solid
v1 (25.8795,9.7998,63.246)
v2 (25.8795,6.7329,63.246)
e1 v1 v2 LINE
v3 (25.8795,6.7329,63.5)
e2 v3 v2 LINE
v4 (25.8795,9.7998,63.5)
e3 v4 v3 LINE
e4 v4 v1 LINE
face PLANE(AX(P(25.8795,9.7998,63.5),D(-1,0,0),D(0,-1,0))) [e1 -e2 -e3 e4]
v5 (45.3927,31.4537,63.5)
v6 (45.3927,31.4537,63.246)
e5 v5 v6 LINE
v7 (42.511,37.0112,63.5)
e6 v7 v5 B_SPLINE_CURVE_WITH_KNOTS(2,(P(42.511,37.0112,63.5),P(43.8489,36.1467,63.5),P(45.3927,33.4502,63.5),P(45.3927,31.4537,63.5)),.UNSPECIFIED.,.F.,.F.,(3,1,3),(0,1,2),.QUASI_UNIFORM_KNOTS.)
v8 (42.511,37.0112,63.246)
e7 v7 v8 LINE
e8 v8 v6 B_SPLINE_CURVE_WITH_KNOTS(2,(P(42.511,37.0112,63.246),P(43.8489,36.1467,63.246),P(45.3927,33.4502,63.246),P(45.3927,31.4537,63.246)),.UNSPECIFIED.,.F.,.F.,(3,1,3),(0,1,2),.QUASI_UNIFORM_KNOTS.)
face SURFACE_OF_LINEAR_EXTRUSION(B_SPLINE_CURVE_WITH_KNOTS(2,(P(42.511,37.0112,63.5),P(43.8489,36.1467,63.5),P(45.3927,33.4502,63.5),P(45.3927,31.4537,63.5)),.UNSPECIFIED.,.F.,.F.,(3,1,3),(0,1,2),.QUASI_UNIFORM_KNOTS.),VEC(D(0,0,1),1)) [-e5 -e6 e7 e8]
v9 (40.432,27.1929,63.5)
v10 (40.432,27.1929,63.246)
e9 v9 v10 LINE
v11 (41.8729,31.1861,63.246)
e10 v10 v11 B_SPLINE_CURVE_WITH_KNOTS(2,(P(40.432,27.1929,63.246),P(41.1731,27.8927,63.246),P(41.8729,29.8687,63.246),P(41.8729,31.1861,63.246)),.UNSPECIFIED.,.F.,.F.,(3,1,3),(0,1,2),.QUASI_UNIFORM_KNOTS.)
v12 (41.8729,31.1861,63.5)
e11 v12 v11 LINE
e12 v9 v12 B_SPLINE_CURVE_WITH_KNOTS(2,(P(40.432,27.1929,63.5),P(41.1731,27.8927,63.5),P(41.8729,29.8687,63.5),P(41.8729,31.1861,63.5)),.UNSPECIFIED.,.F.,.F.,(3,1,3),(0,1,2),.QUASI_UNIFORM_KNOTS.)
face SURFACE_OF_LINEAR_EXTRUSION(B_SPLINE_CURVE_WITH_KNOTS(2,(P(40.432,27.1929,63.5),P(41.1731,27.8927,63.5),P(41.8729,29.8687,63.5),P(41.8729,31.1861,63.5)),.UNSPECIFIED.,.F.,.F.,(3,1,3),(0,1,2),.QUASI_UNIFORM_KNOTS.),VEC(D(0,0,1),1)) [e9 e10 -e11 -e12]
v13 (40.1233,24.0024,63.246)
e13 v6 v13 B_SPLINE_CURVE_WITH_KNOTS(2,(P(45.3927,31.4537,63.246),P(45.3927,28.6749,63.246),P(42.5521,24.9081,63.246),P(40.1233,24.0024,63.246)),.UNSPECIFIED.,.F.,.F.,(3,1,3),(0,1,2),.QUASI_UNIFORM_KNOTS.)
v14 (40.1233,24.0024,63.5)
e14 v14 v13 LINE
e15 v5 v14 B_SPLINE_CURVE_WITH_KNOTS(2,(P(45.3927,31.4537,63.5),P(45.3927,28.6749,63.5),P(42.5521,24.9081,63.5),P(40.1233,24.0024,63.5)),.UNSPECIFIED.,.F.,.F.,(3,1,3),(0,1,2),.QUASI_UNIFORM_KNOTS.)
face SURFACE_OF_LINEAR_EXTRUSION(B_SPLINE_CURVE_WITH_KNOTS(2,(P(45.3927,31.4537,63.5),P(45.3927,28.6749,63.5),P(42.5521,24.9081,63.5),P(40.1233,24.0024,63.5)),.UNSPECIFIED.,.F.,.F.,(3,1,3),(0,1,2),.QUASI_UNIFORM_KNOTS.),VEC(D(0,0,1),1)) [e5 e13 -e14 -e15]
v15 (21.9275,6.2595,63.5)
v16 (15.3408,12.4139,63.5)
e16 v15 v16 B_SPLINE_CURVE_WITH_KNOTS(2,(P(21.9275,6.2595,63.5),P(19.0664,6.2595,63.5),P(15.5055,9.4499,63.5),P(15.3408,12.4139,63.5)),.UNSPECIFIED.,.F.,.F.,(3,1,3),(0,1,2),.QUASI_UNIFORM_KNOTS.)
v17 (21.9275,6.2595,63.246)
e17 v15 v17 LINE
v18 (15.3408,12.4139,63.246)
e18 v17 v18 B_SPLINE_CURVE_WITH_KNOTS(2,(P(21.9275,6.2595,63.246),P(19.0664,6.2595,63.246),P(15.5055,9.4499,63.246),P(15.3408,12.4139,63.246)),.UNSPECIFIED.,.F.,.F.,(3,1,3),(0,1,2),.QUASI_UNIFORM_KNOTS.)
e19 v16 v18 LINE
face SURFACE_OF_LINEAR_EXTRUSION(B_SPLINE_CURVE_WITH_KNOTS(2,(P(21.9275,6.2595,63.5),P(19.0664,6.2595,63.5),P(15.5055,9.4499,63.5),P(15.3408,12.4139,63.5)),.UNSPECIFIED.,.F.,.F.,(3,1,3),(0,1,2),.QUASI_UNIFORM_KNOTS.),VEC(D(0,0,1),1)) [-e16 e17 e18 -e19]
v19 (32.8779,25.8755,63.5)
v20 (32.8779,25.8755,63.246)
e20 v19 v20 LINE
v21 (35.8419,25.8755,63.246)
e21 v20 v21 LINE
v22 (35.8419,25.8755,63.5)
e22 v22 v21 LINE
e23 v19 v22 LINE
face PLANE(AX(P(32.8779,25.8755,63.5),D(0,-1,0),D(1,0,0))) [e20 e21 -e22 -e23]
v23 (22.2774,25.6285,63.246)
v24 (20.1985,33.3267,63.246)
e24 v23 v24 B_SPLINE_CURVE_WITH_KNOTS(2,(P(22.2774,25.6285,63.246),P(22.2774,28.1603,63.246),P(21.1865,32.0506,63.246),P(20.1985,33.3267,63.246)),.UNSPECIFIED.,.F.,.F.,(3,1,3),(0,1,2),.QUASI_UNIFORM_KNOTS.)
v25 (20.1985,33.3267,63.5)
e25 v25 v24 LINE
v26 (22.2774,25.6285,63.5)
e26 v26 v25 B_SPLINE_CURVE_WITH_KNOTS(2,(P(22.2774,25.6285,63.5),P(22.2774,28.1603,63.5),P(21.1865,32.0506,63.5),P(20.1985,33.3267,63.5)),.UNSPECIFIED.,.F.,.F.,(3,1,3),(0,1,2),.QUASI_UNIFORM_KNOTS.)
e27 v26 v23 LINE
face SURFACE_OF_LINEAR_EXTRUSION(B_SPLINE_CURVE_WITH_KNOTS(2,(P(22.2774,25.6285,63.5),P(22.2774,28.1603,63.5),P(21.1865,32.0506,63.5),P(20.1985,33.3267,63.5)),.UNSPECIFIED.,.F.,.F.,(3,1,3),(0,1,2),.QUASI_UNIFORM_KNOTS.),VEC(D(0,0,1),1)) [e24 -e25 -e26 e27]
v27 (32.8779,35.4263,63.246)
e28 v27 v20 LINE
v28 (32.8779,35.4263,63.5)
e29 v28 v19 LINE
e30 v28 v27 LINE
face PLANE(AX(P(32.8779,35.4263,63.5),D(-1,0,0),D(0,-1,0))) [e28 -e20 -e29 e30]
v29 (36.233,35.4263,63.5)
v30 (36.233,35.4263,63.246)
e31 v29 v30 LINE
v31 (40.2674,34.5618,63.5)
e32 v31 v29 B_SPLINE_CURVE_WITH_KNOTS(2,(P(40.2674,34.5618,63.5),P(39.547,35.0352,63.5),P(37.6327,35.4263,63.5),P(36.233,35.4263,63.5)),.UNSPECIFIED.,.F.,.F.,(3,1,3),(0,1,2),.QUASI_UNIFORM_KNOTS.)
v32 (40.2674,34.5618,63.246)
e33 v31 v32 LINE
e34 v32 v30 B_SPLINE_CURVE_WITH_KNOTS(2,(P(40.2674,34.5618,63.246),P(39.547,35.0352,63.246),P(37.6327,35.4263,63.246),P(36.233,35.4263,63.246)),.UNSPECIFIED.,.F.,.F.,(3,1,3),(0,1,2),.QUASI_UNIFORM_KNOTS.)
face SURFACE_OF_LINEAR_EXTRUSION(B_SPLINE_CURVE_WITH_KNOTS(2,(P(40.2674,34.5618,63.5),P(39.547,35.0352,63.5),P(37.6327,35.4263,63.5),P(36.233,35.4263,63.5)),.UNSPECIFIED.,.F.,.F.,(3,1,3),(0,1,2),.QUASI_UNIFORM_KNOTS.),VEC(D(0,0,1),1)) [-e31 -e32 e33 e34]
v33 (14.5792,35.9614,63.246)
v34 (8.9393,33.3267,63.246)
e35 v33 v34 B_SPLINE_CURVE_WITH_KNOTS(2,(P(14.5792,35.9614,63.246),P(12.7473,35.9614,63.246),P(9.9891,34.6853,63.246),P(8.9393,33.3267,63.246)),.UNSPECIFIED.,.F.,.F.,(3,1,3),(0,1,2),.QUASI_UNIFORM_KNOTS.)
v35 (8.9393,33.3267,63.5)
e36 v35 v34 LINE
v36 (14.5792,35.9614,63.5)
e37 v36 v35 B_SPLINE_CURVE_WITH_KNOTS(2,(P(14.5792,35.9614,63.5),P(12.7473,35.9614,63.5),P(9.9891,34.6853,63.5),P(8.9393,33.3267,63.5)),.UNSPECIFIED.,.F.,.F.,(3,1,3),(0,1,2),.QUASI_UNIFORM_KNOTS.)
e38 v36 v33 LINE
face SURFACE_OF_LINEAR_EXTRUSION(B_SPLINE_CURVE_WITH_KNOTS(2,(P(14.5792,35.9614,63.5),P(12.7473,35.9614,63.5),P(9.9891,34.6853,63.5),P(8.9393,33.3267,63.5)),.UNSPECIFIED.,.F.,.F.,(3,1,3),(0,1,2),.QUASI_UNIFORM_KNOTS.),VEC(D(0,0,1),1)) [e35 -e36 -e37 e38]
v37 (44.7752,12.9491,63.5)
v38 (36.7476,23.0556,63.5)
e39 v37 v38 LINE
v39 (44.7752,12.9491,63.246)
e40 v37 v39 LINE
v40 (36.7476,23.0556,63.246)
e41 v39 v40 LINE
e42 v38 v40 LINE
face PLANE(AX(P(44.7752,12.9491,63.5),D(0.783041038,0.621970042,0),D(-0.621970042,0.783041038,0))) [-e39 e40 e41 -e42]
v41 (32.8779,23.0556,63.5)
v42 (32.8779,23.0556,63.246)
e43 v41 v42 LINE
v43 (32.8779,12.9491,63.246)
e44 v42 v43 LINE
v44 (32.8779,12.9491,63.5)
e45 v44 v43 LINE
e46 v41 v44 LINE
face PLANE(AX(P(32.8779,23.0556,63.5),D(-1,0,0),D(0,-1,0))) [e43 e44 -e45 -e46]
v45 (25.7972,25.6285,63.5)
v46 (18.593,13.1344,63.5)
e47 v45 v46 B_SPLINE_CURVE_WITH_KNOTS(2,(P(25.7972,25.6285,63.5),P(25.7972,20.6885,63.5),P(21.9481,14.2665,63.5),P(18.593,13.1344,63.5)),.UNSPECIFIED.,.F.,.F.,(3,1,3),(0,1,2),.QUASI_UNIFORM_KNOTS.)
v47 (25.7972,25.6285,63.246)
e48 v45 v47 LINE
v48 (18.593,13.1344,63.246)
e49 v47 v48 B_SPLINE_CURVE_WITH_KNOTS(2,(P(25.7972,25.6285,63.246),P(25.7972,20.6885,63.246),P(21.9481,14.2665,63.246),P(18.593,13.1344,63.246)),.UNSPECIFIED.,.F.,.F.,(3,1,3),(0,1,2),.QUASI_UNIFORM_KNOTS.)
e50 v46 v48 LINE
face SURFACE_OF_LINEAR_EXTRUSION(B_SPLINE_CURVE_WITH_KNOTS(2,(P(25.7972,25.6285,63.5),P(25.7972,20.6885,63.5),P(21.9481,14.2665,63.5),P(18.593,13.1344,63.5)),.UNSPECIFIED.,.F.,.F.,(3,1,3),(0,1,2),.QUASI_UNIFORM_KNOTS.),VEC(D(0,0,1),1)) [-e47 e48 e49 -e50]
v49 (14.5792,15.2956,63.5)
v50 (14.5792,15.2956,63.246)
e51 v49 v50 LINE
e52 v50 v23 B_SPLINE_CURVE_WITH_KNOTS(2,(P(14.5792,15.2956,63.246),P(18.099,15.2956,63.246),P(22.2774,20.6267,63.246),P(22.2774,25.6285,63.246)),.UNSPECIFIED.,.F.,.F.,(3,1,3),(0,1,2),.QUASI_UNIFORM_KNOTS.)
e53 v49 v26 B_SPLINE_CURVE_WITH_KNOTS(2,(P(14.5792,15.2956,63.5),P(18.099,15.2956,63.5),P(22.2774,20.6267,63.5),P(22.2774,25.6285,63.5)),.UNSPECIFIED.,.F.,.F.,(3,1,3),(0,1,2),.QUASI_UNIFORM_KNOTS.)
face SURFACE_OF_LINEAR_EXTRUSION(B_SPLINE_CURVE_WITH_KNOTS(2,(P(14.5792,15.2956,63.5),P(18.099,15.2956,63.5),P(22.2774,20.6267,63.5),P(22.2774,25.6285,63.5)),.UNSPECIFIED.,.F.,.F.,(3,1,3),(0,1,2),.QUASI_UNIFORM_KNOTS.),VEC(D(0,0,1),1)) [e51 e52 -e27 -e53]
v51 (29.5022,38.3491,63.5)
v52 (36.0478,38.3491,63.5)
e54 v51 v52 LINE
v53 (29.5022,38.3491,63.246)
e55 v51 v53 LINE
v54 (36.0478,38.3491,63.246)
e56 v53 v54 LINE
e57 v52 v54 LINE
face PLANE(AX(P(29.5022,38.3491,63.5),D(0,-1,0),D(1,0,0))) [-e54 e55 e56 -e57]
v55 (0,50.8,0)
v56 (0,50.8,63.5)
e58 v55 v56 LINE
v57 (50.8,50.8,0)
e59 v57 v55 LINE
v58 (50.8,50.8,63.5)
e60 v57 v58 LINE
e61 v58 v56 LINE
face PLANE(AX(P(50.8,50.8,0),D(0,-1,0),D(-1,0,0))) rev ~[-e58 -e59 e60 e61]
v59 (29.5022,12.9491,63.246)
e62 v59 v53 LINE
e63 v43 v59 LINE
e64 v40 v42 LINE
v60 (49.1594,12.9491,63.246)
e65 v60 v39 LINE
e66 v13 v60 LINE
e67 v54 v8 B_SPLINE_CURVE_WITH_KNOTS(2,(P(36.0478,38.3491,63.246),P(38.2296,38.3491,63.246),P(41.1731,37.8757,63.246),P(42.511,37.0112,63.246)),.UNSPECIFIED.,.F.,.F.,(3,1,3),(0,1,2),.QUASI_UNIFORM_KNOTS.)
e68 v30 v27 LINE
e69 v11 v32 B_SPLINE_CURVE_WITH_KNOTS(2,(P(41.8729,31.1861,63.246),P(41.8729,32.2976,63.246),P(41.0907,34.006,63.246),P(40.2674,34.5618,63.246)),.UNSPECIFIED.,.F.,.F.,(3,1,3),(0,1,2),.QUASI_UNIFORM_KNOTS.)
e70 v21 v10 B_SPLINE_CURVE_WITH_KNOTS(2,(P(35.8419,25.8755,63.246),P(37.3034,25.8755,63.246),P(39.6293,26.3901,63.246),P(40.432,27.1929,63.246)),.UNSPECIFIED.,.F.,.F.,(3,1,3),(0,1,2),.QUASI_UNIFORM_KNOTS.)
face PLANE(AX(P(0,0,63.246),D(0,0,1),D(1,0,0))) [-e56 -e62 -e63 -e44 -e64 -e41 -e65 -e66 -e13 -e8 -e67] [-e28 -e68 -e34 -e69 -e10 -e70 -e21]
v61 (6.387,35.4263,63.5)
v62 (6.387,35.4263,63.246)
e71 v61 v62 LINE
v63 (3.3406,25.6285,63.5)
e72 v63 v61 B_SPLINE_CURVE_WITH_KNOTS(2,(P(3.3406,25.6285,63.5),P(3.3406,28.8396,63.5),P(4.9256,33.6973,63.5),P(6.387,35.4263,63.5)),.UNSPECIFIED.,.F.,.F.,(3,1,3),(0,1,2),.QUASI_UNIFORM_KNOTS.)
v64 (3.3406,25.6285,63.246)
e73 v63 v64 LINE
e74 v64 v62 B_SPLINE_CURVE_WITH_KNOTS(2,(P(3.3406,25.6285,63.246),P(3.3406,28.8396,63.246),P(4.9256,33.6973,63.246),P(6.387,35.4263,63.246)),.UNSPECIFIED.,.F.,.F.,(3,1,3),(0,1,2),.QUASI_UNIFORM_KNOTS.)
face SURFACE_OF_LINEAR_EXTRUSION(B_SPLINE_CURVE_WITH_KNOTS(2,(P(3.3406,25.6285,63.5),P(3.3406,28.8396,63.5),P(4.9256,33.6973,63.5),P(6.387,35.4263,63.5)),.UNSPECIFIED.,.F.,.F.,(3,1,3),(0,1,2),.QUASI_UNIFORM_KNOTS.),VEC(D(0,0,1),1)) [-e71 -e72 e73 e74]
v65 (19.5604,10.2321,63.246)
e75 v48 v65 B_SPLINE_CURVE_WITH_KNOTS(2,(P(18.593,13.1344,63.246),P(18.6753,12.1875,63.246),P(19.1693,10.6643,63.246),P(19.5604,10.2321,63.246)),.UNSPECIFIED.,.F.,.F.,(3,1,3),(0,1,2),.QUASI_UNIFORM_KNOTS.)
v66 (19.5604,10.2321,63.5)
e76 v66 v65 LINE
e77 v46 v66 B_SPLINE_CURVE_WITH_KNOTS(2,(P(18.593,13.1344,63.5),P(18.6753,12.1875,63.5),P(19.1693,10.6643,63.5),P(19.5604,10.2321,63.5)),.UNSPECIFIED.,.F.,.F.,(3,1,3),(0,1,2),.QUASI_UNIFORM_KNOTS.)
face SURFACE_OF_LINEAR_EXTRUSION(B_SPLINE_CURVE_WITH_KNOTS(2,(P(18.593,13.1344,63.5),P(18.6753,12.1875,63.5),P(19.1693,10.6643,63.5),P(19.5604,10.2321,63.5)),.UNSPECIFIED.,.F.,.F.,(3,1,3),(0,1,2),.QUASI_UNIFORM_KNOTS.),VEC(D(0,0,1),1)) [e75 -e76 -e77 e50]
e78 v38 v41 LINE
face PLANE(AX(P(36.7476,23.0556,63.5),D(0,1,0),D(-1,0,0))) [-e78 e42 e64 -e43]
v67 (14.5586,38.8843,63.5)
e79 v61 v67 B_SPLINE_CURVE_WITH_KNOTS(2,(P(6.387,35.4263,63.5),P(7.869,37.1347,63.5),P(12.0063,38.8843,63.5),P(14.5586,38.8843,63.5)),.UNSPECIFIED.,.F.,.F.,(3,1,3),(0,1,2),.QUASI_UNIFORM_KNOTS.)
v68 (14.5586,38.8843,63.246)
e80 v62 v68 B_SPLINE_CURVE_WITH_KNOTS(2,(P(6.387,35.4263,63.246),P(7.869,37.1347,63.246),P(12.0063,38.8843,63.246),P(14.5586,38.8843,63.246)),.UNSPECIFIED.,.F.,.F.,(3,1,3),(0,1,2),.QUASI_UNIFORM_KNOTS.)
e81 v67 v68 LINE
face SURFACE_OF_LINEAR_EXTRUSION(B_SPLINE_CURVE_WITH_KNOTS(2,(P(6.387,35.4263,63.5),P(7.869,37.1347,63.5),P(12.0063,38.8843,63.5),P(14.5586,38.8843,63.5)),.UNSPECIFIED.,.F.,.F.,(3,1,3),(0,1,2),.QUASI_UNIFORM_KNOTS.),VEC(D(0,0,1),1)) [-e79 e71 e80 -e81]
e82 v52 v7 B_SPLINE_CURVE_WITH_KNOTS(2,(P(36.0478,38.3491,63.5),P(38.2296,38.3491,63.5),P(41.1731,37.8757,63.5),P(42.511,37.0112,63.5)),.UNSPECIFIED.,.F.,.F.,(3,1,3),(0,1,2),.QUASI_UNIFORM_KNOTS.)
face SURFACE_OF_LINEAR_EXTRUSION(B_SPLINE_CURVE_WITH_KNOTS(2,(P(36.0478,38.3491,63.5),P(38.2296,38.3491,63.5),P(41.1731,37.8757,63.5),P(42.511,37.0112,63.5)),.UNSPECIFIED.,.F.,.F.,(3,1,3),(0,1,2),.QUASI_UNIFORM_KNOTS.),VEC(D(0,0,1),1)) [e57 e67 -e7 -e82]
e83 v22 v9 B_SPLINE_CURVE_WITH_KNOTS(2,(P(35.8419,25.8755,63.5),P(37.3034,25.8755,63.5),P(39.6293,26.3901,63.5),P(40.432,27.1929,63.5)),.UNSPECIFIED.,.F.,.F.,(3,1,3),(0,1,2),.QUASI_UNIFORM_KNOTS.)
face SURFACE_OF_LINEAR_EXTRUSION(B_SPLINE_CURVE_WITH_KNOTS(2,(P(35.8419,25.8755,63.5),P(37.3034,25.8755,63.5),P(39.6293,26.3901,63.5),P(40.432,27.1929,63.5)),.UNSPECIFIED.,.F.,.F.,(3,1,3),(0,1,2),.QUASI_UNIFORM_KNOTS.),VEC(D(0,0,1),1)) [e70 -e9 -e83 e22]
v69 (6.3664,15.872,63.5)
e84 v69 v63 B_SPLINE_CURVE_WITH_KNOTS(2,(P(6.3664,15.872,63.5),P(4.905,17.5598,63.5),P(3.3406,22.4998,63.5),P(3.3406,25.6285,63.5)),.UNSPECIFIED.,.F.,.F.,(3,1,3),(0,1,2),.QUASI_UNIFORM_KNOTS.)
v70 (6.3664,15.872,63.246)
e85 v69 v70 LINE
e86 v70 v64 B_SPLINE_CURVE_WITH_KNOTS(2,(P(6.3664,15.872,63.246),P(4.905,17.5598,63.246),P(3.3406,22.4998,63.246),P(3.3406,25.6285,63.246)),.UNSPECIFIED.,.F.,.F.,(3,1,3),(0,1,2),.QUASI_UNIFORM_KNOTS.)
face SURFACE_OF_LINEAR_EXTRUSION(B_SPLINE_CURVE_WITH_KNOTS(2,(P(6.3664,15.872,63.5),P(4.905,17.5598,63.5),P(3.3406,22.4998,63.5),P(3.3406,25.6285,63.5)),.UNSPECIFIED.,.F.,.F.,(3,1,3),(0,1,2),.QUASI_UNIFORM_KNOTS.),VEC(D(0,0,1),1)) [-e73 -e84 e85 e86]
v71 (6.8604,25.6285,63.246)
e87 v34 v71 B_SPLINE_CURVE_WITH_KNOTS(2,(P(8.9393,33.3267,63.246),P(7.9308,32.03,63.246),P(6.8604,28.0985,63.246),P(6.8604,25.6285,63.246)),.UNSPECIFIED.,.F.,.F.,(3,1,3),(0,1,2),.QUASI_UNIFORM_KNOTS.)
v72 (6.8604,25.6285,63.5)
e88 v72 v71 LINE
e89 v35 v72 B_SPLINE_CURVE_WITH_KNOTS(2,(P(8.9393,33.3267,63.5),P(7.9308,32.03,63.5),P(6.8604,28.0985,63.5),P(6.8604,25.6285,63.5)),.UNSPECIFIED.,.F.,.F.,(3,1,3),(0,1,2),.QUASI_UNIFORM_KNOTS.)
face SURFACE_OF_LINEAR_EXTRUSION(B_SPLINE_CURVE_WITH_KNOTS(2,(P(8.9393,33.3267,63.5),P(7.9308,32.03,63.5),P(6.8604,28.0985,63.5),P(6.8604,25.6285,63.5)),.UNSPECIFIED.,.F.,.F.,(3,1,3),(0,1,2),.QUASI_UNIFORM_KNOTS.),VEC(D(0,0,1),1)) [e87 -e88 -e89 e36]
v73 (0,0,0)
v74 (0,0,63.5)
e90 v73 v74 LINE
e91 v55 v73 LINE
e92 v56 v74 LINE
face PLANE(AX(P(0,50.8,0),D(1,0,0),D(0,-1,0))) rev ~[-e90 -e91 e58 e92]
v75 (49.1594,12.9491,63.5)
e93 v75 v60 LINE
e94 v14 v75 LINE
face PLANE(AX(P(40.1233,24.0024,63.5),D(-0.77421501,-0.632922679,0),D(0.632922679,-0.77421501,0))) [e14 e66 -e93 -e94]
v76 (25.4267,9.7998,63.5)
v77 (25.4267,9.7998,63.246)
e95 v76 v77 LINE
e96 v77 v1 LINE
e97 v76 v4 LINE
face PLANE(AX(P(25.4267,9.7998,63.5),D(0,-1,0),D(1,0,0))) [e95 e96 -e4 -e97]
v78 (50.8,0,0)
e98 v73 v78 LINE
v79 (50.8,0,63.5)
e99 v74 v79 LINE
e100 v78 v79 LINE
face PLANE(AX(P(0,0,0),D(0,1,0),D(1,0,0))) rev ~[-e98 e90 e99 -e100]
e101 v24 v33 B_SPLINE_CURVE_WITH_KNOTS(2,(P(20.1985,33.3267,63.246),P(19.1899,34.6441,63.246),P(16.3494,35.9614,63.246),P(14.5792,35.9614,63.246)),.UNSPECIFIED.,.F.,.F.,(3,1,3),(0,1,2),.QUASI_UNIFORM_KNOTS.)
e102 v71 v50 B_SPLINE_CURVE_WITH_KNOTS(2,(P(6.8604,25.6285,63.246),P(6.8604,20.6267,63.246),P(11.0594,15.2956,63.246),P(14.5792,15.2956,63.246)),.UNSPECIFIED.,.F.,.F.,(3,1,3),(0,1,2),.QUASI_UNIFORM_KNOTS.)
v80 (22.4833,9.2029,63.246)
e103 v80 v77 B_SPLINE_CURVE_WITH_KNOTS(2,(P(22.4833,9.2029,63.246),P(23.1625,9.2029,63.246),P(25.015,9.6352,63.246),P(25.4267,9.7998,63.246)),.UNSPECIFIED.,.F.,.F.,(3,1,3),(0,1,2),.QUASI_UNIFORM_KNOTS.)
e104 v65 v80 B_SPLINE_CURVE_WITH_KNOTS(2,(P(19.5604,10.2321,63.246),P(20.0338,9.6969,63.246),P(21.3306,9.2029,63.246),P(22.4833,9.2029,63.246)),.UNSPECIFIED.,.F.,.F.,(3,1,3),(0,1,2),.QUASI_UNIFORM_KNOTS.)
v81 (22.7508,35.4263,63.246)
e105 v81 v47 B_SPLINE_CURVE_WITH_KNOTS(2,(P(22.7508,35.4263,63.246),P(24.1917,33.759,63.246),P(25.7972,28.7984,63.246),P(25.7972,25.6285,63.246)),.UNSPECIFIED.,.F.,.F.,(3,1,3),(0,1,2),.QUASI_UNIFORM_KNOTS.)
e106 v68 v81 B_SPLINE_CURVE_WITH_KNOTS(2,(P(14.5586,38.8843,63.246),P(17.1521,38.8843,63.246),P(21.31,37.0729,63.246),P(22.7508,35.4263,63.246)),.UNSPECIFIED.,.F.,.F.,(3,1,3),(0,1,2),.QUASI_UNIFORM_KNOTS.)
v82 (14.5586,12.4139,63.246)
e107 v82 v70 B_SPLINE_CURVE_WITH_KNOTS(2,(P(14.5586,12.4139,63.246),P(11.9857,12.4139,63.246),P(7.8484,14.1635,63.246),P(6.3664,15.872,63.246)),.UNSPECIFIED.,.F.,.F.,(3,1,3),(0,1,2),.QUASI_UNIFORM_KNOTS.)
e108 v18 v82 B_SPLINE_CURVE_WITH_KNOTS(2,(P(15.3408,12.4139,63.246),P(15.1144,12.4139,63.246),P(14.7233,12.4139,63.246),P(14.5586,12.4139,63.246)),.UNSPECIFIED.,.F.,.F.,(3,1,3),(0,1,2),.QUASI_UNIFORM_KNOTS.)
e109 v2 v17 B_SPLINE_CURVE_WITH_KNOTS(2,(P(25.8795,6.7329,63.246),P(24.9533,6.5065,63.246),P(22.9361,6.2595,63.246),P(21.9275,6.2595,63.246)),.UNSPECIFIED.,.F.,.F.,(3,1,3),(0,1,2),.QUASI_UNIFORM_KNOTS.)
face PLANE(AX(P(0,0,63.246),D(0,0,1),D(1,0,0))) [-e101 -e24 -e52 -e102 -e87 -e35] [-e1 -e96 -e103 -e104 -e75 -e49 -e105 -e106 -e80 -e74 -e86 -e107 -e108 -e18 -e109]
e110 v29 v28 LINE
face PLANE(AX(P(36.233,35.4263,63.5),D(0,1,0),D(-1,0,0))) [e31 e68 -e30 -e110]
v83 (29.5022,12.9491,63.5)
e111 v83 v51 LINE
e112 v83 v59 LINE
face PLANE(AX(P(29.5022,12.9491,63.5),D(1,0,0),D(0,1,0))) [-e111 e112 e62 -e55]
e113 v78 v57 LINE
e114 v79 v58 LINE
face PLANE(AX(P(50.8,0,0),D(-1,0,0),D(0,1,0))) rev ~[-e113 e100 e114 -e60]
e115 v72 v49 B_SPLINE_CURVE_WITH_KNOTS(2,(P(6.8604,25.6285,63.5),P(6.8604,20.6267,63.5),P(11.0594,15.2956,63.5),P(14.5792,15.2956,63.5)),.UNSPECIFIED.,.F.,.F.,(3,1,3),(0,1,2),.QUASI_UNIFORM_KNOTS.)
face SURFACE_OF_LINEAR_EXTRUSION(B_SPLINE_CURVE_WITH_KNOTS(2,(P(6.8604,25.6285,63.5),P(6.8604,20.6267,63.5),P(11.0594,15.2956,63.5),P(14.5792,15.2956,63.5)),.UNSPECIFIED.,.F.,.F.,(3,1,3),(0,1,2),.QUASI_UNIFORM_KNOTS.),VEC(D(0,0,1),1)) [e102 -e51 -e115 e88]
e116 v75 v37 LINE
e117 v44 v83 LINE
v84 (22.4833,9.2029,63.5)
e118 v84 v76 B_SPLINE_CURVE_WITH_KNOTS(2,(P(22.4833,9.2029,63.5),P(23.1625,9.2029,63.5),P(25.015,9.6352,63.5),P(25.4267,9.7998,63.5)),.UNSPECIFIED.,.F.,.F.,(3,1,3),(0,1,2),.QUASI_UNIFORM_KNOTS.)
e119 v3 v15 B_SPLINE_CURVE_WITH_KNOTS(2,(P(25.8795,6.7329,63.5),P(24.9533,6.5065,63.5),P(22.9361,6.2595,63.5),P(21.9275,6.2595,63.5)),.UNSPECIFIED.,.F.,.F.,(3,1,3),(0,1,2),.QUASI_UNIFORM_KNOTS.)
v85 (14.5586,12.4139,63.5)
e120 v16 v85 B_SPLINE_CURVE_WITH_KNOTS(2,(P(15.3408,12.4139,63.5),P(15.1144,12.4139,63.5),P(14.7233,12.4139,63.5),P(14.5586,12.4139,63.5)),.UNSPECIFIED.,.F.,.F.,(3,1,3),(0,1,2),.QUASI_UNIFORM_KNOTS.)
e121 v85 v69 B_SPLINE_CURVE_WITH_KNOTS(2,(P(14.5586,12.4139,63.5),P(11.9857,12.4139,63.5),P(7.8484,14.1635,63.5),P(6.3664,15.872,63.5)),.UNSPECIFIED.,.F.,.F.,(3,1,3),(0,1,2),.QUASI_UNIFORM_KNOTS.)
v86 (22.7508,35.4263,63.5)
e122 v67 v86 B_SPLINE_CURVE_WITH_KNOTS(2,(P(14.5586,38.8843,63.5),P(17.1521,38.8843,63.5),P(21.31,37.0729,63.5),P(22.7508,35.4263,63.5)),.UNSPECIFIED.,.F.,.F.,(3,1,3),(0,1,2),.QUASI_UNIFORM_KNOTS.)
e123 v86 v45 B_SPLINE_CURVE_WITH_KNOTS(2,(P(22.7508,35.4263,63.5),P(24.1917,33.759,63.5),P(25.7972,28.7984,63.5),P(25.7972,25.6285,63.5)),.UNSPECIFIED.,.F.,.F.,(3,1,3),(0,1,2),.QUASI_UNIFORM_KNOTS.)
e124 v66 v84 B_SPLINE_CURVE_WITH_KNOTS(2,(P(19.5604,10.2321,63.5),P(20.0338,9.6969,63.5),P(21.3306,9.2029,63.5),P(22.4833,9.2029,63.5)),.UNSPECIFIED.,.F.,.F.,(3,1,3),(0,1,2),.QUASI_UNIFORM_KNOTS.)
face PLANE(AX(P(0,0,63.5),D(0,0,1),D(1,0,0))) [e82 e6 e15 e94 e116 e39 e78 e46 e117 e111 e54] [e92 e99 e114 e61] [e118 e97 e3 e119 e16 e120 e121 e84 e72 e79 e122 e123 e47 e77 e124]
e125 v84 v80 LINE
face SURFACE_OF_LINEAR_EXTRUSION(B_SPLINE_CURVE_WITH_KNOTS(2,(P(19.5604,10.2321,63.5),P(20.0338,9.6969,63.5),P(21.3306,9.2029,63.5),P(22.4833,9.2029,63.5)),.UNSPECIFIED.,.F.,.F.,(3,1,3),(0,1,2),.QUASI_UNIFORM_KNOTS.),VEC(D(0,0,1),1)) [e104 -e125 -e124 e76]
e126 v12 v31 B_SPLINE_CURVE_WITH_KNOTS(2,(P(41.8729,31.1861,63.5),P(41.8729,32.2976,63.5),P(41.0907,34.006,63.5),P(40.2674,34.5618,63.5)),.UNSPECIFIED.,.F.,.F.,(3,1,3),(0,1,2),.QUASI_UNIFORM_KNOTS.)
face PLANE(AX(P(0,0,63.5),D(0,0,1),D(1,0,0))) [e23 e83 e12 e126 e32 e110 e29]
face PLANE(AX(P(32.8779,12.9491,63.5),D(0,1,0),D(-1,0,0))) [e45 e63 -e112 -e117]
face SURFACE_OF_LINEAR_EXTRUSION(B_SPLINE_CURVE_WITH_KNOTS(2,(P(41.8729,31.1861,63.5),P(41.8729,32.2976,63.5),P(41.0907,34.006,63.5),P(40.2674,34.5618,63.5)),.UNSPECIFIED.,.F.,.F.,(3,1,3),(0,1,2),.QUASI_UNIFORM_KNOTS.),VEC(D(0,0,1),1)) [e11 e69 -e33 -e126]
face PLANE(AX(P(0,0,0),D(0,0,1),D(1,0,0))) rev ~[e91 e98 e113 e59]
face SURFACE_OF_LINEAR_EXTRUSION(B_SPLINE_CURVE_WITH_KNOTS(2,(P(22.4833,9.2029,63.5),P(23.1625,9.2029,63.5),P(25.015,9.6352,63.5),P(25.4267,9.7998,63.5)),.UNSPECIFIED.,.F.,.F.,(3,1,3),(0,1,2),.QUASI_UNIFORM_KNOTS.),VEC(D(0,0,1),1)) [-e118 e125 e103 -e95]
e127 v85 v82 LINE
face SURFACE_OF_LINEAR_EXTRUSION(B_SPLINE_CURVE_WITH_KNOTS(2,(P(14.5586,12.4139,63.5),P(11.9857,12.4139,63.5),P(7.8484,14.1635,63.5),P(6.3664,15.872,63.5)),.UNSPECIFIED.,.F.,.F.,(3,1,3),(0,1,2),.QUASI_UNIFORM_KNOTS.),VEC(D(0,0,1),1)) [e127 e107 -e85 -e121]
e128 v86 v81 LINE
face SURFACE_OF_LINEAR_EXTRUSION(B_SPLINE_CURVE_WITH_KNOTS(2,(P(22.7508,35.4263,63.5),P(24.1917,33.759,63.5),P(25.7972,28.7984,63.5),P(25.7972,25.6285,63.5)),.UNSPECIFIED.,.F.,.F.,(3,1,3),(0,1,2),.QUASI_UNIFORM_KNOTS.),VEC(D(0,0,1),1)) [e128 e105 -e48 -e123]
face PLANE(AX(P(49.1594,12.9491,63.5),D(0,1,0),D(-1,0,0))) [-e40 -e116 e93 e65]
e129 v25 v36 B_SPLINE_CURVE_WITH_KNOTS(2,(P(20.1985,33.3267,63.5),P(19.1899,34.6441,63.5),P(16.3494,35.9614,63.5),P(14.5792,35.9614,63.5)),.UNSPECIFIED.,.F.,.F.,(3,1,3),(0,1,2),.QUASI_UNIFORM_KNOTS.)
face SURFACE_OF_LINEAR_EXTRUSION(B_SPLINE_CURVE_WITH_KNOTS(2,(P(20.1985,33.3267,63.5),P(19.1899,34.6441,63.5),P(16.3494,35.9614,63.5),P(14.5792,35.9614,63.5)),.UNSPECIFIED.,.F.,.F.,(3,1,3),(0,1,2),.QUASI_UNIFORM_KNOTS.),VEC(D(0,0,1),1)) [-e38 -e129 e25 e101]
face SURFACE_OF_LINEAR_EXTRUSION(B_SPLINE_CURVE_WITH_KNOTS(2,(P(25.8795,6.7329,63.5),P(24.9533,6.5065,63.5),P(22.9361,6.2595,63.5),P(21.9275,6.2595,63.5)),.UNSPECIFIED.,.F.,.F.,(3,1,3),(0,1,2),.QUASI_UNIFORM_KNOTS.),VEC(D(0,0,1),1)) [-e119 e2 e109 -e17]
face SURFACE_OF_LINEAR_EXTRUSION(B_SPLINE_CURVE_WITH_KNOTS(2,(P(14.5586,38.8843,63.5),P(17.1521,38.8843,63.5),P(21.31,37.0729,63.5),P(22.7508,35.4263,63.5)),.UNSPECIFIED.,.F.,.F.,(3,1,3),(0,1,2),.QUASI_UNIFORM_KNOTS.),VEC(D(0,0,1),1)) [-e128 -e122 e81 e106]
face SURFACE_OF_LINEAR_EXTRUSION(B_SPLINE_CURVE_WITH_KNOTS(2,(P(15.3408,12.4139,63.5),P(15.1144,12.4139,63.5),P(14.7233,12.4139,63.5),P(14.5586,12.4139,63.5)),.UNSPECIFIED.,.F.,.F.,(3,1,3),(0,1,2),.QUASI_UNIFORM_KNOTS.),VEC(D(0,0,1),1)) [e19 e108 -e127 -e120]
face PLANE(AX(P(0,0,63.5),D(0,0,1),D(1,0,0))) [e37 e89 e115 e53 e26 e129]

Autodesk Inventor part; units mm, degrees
ref_plane "YZ Plane" through (0, 0, 0) normal (1, 0, 0) x (0, 1, 0)
ref_plane "XZ Plane" through (0, 0, 0) normal (0, 1, 0) x (-1, 0, 0)
ref_plane "XY Plane" through (0, 0, 0) normal (0, 0, 1) x (1, 0, 0)
sketch "Sketch1" plane through (0, 0, 0) normal (0, 0, 1) x (1, 0, 0)
  line L0 (0, 0) -> (50.8, 0)
  line L1 (50.8, 0) -> (50.8, 50.8)
  line L2 (50.8, 50.8) -> (0, 50.8)
  line L3 (0, 50.8) -> (0, 0)
  dimension "d0" = 50.8
  dimension "d1" = 50.8
extrude "Extrusion1" add sketch "Sketch1" along normal blind 63.5
sketch "Sketch2" plane through (0, 0, 63.5) normal (0, 0, 1) x (1, 0, 0)
  line L0 (2.2085, 38.8843) -> (25.4061, 38.8843) construction
  line L1 (25.4061, 38.8843) -> (25.4061, 22.5719) construction
  line L2 (25.4061, 22.5719) -> (2.2085, 22.5719) construction
  line L3 (2.2085, 22.5719) -> (2.2085, 38.8843) construction
  spline S0 degree 2 poles (25.8795, 6.7329) (24.9533, 6.5065) (22.9361, 6.2595) (21.9275, 6.2595) knots 0 0 0 1 2 2 2
  spline S1 degree 2 poles (21.9275, 6.2595) (19.0664, 6.2595) (15.5055, 9.4499) (15.3408, 12.4139) knots 0 0 0 1 2 2 2
  spline S2 degree 2 poles (15.3408, 12.4139) (15.1144, 12.4139) (14.7233, 12.4139) (14.5586, 12.4139) knots 0 0 0 1 2 2 2
  spline S3 degree 2 poles (14.5586, 12.4139) (11.9857, 12.4139) (7.8484, 14.1635) (6.3664, 15.872) knots 0 0 0 1 2 2 2
  spline S4 degree 2 poles (6.3664, 15.872) (4.905, 17.5598) (3.3406, 22.4998) (3.3406, 25.6285) knots 0 0 0 1 2 2 2
  spline S5 degree 2 poles (3.3406, 25.6285) (3.3406, 28.8396) (4.9256, 33.6973) (6.387, 35.4263) knots 0 0 0 1 2 2 2
  spline S6 degree 2 poles (6.387, 35.4263) (7.869, 37.1347) (12.0063, 38.8843) (14.5586, 38.8843) knots 0 0 0 1 2 2 2
  spline S7 degree 2 poles (14.5586, 38.8843) (17.1521, 38.8843) (21.31, 37.0729) (22.7508, 35.4263) knots 0 0 0 1 2 2 2
  spline S8 degree 2 poles (22.7508, 35.4263) (24.1917, 33.759) (25.7972, 28.7984) (25.7972, 25.6285) knots 0 0 0 1 2 2 2
  spline S9 degree 2 poles (25.7972, 25.6285) (25.7972, 20.6885) (21.9481, 14.2665) (18.593, 13.1344) knots 0 0 0 1 2 2 2
  spline S10 degree 2 poles (18.593, 13.1344) (18.6753, 12.1875) (19.1693, 10.6643) (19.5604, 10.2321) knots 0 0 0 1 2 2 2
  spline S11 degree 2 poles (19.5604, 10.2321) (20.0338, 9.6969) (21.3306, 9.2029) (22.4833, 9.2029) knots 0 0 0 1 2 2 2
  spline S12 degree 2 poles (22.4833, 9.2029) (23.1625, 9.2029) (25.015, 9.6352) (25.4267, 9.7998) knots 0 0 0 1 2 2 2
  line L4 (25.4267, 9.7998) -> (25.8795, 9.7998)
  line L5 (25.8795, 9.7998) -> (25.8795, 6.7329)
  spline S13 degree 2 poles (22.2774, 25.6285) (22.2774, 28.1603) (21.1865, 32.0506) (20.1985, 33.3267) knots 0 0 0 1 2 2 2
  spline S14 degree 2 poles (20.1985, 33.3267) (19.1899, 34.6441) (16.3494, 35.9614) (14.5792, 35.9614) knots 0 0 0 1 2 2 2
  spline S15 degree 2 poles (14.5792, 35.9614) (12.7473, 35.9614) (9.9891, 34.6853) (8.9393, 33.3267) knots 0 0 0 1 2 2 2
  spline S16 degree 2 poles (8.9393, 33.3267) (7.9308, 32.03) (6.8604, 28.0985) (6.8604, 25.6285) knots 0 0 0 1 2 2 2
  spline S17 degree 2 poles (6.8604, 25.6285) (6.8604, 20.6267) (11.0594, 15.2956) (14.5792, 15.2956) knots 0 0 0 1 2 2 2
  spline S18 degree 2 poles (14.5792, 15.2956) (18.099, 15.2956) (22.2774, 20.6267) (22.2774, 25.6285) knots 0 0 0 1 2 2 2
  line L6 (49.1594, 12.9491) -> (44.7752, 12.9491)
  line L7 (44.7752, 12.9491) -> (36.7476, 23.0556)
  line L8 (36.7476, 23.0556) -> (32.8779, 23.0556)
  line L9 (32.8779, 23.0556) -> (32.8779, 12.9491)
  line L10 (32.8779, 12.9491) -> (29.5022, 12.9491)
  line L11 (29.5022, 12.9491) -> (29.5022, 38.3491)
  line L12 (29.5022, 38.3491) -> (36.0478, 38.3491)
  spline S19 degree 2 poles (36.0478, 38.3491) (38.2296, 38.3491) (41.1731, 37.8757) (42.511, 37.0112) knots 0 0 0 1 2 2 2
  spline S20 degree 2 poles (42.511, 37.0112) (43.8489, 36.1467) (45.3927, 33.4502) (45.3927, 31.4537) knots 0 0 0 1 2 2 2
  spline S21 degree 2 poles (45.3927, 31.4537) (45.3927, 28.6749) (42.5521, 24.9081) (40.1233, 24.0024) knots 0 0 0 1 2 2 2
  line L13 (40.1233, 24.0024) -> (49.1594, 12.9491)
  spline S22 degree 2 poles (41.8729, 31.1861) (41.8729, 32.2976) (41.0907, 34.006) (40.2674, 34.5618) knots 0 0 0 1 2 2 2
  spline S23 degree 2 poles (40.2674, 34.5618) (39.547, 35.0352) (37.6327, 35.4263) (36.233, 35.4263) knots 0 0 0 1 2 2 2
  line L14 (36.233, 35.4263) -> (32.8779, 35.4263)
  line L15 (32.8779, 35.4263) -> (32.8779, 25.8755)
  line L16 (32.8779, 25.8755) -> (35.8419, 25.8755)
  spline S24 degree 2 poles (35.8419, 25.8755) (37.3034, 25.8755) (39.6293, 26.3901) (40.432, 27.1929) knots 0 0 0 1 2 2 2
  spline S25 degree 2 poles (40.432, 27.1929) (41.1731, 27.8927) (41.8729, 29.8687) (41.8729, 31.1861) knots 0 0 0 1 2 2 2
  point P0 (0, 0)
extrude "Extrusion2" cut sketch "Sketch2" against normal blind 0.254
equation "\"d1\" = d0"
properties part number "Container 2 2 2 and half color 1"
